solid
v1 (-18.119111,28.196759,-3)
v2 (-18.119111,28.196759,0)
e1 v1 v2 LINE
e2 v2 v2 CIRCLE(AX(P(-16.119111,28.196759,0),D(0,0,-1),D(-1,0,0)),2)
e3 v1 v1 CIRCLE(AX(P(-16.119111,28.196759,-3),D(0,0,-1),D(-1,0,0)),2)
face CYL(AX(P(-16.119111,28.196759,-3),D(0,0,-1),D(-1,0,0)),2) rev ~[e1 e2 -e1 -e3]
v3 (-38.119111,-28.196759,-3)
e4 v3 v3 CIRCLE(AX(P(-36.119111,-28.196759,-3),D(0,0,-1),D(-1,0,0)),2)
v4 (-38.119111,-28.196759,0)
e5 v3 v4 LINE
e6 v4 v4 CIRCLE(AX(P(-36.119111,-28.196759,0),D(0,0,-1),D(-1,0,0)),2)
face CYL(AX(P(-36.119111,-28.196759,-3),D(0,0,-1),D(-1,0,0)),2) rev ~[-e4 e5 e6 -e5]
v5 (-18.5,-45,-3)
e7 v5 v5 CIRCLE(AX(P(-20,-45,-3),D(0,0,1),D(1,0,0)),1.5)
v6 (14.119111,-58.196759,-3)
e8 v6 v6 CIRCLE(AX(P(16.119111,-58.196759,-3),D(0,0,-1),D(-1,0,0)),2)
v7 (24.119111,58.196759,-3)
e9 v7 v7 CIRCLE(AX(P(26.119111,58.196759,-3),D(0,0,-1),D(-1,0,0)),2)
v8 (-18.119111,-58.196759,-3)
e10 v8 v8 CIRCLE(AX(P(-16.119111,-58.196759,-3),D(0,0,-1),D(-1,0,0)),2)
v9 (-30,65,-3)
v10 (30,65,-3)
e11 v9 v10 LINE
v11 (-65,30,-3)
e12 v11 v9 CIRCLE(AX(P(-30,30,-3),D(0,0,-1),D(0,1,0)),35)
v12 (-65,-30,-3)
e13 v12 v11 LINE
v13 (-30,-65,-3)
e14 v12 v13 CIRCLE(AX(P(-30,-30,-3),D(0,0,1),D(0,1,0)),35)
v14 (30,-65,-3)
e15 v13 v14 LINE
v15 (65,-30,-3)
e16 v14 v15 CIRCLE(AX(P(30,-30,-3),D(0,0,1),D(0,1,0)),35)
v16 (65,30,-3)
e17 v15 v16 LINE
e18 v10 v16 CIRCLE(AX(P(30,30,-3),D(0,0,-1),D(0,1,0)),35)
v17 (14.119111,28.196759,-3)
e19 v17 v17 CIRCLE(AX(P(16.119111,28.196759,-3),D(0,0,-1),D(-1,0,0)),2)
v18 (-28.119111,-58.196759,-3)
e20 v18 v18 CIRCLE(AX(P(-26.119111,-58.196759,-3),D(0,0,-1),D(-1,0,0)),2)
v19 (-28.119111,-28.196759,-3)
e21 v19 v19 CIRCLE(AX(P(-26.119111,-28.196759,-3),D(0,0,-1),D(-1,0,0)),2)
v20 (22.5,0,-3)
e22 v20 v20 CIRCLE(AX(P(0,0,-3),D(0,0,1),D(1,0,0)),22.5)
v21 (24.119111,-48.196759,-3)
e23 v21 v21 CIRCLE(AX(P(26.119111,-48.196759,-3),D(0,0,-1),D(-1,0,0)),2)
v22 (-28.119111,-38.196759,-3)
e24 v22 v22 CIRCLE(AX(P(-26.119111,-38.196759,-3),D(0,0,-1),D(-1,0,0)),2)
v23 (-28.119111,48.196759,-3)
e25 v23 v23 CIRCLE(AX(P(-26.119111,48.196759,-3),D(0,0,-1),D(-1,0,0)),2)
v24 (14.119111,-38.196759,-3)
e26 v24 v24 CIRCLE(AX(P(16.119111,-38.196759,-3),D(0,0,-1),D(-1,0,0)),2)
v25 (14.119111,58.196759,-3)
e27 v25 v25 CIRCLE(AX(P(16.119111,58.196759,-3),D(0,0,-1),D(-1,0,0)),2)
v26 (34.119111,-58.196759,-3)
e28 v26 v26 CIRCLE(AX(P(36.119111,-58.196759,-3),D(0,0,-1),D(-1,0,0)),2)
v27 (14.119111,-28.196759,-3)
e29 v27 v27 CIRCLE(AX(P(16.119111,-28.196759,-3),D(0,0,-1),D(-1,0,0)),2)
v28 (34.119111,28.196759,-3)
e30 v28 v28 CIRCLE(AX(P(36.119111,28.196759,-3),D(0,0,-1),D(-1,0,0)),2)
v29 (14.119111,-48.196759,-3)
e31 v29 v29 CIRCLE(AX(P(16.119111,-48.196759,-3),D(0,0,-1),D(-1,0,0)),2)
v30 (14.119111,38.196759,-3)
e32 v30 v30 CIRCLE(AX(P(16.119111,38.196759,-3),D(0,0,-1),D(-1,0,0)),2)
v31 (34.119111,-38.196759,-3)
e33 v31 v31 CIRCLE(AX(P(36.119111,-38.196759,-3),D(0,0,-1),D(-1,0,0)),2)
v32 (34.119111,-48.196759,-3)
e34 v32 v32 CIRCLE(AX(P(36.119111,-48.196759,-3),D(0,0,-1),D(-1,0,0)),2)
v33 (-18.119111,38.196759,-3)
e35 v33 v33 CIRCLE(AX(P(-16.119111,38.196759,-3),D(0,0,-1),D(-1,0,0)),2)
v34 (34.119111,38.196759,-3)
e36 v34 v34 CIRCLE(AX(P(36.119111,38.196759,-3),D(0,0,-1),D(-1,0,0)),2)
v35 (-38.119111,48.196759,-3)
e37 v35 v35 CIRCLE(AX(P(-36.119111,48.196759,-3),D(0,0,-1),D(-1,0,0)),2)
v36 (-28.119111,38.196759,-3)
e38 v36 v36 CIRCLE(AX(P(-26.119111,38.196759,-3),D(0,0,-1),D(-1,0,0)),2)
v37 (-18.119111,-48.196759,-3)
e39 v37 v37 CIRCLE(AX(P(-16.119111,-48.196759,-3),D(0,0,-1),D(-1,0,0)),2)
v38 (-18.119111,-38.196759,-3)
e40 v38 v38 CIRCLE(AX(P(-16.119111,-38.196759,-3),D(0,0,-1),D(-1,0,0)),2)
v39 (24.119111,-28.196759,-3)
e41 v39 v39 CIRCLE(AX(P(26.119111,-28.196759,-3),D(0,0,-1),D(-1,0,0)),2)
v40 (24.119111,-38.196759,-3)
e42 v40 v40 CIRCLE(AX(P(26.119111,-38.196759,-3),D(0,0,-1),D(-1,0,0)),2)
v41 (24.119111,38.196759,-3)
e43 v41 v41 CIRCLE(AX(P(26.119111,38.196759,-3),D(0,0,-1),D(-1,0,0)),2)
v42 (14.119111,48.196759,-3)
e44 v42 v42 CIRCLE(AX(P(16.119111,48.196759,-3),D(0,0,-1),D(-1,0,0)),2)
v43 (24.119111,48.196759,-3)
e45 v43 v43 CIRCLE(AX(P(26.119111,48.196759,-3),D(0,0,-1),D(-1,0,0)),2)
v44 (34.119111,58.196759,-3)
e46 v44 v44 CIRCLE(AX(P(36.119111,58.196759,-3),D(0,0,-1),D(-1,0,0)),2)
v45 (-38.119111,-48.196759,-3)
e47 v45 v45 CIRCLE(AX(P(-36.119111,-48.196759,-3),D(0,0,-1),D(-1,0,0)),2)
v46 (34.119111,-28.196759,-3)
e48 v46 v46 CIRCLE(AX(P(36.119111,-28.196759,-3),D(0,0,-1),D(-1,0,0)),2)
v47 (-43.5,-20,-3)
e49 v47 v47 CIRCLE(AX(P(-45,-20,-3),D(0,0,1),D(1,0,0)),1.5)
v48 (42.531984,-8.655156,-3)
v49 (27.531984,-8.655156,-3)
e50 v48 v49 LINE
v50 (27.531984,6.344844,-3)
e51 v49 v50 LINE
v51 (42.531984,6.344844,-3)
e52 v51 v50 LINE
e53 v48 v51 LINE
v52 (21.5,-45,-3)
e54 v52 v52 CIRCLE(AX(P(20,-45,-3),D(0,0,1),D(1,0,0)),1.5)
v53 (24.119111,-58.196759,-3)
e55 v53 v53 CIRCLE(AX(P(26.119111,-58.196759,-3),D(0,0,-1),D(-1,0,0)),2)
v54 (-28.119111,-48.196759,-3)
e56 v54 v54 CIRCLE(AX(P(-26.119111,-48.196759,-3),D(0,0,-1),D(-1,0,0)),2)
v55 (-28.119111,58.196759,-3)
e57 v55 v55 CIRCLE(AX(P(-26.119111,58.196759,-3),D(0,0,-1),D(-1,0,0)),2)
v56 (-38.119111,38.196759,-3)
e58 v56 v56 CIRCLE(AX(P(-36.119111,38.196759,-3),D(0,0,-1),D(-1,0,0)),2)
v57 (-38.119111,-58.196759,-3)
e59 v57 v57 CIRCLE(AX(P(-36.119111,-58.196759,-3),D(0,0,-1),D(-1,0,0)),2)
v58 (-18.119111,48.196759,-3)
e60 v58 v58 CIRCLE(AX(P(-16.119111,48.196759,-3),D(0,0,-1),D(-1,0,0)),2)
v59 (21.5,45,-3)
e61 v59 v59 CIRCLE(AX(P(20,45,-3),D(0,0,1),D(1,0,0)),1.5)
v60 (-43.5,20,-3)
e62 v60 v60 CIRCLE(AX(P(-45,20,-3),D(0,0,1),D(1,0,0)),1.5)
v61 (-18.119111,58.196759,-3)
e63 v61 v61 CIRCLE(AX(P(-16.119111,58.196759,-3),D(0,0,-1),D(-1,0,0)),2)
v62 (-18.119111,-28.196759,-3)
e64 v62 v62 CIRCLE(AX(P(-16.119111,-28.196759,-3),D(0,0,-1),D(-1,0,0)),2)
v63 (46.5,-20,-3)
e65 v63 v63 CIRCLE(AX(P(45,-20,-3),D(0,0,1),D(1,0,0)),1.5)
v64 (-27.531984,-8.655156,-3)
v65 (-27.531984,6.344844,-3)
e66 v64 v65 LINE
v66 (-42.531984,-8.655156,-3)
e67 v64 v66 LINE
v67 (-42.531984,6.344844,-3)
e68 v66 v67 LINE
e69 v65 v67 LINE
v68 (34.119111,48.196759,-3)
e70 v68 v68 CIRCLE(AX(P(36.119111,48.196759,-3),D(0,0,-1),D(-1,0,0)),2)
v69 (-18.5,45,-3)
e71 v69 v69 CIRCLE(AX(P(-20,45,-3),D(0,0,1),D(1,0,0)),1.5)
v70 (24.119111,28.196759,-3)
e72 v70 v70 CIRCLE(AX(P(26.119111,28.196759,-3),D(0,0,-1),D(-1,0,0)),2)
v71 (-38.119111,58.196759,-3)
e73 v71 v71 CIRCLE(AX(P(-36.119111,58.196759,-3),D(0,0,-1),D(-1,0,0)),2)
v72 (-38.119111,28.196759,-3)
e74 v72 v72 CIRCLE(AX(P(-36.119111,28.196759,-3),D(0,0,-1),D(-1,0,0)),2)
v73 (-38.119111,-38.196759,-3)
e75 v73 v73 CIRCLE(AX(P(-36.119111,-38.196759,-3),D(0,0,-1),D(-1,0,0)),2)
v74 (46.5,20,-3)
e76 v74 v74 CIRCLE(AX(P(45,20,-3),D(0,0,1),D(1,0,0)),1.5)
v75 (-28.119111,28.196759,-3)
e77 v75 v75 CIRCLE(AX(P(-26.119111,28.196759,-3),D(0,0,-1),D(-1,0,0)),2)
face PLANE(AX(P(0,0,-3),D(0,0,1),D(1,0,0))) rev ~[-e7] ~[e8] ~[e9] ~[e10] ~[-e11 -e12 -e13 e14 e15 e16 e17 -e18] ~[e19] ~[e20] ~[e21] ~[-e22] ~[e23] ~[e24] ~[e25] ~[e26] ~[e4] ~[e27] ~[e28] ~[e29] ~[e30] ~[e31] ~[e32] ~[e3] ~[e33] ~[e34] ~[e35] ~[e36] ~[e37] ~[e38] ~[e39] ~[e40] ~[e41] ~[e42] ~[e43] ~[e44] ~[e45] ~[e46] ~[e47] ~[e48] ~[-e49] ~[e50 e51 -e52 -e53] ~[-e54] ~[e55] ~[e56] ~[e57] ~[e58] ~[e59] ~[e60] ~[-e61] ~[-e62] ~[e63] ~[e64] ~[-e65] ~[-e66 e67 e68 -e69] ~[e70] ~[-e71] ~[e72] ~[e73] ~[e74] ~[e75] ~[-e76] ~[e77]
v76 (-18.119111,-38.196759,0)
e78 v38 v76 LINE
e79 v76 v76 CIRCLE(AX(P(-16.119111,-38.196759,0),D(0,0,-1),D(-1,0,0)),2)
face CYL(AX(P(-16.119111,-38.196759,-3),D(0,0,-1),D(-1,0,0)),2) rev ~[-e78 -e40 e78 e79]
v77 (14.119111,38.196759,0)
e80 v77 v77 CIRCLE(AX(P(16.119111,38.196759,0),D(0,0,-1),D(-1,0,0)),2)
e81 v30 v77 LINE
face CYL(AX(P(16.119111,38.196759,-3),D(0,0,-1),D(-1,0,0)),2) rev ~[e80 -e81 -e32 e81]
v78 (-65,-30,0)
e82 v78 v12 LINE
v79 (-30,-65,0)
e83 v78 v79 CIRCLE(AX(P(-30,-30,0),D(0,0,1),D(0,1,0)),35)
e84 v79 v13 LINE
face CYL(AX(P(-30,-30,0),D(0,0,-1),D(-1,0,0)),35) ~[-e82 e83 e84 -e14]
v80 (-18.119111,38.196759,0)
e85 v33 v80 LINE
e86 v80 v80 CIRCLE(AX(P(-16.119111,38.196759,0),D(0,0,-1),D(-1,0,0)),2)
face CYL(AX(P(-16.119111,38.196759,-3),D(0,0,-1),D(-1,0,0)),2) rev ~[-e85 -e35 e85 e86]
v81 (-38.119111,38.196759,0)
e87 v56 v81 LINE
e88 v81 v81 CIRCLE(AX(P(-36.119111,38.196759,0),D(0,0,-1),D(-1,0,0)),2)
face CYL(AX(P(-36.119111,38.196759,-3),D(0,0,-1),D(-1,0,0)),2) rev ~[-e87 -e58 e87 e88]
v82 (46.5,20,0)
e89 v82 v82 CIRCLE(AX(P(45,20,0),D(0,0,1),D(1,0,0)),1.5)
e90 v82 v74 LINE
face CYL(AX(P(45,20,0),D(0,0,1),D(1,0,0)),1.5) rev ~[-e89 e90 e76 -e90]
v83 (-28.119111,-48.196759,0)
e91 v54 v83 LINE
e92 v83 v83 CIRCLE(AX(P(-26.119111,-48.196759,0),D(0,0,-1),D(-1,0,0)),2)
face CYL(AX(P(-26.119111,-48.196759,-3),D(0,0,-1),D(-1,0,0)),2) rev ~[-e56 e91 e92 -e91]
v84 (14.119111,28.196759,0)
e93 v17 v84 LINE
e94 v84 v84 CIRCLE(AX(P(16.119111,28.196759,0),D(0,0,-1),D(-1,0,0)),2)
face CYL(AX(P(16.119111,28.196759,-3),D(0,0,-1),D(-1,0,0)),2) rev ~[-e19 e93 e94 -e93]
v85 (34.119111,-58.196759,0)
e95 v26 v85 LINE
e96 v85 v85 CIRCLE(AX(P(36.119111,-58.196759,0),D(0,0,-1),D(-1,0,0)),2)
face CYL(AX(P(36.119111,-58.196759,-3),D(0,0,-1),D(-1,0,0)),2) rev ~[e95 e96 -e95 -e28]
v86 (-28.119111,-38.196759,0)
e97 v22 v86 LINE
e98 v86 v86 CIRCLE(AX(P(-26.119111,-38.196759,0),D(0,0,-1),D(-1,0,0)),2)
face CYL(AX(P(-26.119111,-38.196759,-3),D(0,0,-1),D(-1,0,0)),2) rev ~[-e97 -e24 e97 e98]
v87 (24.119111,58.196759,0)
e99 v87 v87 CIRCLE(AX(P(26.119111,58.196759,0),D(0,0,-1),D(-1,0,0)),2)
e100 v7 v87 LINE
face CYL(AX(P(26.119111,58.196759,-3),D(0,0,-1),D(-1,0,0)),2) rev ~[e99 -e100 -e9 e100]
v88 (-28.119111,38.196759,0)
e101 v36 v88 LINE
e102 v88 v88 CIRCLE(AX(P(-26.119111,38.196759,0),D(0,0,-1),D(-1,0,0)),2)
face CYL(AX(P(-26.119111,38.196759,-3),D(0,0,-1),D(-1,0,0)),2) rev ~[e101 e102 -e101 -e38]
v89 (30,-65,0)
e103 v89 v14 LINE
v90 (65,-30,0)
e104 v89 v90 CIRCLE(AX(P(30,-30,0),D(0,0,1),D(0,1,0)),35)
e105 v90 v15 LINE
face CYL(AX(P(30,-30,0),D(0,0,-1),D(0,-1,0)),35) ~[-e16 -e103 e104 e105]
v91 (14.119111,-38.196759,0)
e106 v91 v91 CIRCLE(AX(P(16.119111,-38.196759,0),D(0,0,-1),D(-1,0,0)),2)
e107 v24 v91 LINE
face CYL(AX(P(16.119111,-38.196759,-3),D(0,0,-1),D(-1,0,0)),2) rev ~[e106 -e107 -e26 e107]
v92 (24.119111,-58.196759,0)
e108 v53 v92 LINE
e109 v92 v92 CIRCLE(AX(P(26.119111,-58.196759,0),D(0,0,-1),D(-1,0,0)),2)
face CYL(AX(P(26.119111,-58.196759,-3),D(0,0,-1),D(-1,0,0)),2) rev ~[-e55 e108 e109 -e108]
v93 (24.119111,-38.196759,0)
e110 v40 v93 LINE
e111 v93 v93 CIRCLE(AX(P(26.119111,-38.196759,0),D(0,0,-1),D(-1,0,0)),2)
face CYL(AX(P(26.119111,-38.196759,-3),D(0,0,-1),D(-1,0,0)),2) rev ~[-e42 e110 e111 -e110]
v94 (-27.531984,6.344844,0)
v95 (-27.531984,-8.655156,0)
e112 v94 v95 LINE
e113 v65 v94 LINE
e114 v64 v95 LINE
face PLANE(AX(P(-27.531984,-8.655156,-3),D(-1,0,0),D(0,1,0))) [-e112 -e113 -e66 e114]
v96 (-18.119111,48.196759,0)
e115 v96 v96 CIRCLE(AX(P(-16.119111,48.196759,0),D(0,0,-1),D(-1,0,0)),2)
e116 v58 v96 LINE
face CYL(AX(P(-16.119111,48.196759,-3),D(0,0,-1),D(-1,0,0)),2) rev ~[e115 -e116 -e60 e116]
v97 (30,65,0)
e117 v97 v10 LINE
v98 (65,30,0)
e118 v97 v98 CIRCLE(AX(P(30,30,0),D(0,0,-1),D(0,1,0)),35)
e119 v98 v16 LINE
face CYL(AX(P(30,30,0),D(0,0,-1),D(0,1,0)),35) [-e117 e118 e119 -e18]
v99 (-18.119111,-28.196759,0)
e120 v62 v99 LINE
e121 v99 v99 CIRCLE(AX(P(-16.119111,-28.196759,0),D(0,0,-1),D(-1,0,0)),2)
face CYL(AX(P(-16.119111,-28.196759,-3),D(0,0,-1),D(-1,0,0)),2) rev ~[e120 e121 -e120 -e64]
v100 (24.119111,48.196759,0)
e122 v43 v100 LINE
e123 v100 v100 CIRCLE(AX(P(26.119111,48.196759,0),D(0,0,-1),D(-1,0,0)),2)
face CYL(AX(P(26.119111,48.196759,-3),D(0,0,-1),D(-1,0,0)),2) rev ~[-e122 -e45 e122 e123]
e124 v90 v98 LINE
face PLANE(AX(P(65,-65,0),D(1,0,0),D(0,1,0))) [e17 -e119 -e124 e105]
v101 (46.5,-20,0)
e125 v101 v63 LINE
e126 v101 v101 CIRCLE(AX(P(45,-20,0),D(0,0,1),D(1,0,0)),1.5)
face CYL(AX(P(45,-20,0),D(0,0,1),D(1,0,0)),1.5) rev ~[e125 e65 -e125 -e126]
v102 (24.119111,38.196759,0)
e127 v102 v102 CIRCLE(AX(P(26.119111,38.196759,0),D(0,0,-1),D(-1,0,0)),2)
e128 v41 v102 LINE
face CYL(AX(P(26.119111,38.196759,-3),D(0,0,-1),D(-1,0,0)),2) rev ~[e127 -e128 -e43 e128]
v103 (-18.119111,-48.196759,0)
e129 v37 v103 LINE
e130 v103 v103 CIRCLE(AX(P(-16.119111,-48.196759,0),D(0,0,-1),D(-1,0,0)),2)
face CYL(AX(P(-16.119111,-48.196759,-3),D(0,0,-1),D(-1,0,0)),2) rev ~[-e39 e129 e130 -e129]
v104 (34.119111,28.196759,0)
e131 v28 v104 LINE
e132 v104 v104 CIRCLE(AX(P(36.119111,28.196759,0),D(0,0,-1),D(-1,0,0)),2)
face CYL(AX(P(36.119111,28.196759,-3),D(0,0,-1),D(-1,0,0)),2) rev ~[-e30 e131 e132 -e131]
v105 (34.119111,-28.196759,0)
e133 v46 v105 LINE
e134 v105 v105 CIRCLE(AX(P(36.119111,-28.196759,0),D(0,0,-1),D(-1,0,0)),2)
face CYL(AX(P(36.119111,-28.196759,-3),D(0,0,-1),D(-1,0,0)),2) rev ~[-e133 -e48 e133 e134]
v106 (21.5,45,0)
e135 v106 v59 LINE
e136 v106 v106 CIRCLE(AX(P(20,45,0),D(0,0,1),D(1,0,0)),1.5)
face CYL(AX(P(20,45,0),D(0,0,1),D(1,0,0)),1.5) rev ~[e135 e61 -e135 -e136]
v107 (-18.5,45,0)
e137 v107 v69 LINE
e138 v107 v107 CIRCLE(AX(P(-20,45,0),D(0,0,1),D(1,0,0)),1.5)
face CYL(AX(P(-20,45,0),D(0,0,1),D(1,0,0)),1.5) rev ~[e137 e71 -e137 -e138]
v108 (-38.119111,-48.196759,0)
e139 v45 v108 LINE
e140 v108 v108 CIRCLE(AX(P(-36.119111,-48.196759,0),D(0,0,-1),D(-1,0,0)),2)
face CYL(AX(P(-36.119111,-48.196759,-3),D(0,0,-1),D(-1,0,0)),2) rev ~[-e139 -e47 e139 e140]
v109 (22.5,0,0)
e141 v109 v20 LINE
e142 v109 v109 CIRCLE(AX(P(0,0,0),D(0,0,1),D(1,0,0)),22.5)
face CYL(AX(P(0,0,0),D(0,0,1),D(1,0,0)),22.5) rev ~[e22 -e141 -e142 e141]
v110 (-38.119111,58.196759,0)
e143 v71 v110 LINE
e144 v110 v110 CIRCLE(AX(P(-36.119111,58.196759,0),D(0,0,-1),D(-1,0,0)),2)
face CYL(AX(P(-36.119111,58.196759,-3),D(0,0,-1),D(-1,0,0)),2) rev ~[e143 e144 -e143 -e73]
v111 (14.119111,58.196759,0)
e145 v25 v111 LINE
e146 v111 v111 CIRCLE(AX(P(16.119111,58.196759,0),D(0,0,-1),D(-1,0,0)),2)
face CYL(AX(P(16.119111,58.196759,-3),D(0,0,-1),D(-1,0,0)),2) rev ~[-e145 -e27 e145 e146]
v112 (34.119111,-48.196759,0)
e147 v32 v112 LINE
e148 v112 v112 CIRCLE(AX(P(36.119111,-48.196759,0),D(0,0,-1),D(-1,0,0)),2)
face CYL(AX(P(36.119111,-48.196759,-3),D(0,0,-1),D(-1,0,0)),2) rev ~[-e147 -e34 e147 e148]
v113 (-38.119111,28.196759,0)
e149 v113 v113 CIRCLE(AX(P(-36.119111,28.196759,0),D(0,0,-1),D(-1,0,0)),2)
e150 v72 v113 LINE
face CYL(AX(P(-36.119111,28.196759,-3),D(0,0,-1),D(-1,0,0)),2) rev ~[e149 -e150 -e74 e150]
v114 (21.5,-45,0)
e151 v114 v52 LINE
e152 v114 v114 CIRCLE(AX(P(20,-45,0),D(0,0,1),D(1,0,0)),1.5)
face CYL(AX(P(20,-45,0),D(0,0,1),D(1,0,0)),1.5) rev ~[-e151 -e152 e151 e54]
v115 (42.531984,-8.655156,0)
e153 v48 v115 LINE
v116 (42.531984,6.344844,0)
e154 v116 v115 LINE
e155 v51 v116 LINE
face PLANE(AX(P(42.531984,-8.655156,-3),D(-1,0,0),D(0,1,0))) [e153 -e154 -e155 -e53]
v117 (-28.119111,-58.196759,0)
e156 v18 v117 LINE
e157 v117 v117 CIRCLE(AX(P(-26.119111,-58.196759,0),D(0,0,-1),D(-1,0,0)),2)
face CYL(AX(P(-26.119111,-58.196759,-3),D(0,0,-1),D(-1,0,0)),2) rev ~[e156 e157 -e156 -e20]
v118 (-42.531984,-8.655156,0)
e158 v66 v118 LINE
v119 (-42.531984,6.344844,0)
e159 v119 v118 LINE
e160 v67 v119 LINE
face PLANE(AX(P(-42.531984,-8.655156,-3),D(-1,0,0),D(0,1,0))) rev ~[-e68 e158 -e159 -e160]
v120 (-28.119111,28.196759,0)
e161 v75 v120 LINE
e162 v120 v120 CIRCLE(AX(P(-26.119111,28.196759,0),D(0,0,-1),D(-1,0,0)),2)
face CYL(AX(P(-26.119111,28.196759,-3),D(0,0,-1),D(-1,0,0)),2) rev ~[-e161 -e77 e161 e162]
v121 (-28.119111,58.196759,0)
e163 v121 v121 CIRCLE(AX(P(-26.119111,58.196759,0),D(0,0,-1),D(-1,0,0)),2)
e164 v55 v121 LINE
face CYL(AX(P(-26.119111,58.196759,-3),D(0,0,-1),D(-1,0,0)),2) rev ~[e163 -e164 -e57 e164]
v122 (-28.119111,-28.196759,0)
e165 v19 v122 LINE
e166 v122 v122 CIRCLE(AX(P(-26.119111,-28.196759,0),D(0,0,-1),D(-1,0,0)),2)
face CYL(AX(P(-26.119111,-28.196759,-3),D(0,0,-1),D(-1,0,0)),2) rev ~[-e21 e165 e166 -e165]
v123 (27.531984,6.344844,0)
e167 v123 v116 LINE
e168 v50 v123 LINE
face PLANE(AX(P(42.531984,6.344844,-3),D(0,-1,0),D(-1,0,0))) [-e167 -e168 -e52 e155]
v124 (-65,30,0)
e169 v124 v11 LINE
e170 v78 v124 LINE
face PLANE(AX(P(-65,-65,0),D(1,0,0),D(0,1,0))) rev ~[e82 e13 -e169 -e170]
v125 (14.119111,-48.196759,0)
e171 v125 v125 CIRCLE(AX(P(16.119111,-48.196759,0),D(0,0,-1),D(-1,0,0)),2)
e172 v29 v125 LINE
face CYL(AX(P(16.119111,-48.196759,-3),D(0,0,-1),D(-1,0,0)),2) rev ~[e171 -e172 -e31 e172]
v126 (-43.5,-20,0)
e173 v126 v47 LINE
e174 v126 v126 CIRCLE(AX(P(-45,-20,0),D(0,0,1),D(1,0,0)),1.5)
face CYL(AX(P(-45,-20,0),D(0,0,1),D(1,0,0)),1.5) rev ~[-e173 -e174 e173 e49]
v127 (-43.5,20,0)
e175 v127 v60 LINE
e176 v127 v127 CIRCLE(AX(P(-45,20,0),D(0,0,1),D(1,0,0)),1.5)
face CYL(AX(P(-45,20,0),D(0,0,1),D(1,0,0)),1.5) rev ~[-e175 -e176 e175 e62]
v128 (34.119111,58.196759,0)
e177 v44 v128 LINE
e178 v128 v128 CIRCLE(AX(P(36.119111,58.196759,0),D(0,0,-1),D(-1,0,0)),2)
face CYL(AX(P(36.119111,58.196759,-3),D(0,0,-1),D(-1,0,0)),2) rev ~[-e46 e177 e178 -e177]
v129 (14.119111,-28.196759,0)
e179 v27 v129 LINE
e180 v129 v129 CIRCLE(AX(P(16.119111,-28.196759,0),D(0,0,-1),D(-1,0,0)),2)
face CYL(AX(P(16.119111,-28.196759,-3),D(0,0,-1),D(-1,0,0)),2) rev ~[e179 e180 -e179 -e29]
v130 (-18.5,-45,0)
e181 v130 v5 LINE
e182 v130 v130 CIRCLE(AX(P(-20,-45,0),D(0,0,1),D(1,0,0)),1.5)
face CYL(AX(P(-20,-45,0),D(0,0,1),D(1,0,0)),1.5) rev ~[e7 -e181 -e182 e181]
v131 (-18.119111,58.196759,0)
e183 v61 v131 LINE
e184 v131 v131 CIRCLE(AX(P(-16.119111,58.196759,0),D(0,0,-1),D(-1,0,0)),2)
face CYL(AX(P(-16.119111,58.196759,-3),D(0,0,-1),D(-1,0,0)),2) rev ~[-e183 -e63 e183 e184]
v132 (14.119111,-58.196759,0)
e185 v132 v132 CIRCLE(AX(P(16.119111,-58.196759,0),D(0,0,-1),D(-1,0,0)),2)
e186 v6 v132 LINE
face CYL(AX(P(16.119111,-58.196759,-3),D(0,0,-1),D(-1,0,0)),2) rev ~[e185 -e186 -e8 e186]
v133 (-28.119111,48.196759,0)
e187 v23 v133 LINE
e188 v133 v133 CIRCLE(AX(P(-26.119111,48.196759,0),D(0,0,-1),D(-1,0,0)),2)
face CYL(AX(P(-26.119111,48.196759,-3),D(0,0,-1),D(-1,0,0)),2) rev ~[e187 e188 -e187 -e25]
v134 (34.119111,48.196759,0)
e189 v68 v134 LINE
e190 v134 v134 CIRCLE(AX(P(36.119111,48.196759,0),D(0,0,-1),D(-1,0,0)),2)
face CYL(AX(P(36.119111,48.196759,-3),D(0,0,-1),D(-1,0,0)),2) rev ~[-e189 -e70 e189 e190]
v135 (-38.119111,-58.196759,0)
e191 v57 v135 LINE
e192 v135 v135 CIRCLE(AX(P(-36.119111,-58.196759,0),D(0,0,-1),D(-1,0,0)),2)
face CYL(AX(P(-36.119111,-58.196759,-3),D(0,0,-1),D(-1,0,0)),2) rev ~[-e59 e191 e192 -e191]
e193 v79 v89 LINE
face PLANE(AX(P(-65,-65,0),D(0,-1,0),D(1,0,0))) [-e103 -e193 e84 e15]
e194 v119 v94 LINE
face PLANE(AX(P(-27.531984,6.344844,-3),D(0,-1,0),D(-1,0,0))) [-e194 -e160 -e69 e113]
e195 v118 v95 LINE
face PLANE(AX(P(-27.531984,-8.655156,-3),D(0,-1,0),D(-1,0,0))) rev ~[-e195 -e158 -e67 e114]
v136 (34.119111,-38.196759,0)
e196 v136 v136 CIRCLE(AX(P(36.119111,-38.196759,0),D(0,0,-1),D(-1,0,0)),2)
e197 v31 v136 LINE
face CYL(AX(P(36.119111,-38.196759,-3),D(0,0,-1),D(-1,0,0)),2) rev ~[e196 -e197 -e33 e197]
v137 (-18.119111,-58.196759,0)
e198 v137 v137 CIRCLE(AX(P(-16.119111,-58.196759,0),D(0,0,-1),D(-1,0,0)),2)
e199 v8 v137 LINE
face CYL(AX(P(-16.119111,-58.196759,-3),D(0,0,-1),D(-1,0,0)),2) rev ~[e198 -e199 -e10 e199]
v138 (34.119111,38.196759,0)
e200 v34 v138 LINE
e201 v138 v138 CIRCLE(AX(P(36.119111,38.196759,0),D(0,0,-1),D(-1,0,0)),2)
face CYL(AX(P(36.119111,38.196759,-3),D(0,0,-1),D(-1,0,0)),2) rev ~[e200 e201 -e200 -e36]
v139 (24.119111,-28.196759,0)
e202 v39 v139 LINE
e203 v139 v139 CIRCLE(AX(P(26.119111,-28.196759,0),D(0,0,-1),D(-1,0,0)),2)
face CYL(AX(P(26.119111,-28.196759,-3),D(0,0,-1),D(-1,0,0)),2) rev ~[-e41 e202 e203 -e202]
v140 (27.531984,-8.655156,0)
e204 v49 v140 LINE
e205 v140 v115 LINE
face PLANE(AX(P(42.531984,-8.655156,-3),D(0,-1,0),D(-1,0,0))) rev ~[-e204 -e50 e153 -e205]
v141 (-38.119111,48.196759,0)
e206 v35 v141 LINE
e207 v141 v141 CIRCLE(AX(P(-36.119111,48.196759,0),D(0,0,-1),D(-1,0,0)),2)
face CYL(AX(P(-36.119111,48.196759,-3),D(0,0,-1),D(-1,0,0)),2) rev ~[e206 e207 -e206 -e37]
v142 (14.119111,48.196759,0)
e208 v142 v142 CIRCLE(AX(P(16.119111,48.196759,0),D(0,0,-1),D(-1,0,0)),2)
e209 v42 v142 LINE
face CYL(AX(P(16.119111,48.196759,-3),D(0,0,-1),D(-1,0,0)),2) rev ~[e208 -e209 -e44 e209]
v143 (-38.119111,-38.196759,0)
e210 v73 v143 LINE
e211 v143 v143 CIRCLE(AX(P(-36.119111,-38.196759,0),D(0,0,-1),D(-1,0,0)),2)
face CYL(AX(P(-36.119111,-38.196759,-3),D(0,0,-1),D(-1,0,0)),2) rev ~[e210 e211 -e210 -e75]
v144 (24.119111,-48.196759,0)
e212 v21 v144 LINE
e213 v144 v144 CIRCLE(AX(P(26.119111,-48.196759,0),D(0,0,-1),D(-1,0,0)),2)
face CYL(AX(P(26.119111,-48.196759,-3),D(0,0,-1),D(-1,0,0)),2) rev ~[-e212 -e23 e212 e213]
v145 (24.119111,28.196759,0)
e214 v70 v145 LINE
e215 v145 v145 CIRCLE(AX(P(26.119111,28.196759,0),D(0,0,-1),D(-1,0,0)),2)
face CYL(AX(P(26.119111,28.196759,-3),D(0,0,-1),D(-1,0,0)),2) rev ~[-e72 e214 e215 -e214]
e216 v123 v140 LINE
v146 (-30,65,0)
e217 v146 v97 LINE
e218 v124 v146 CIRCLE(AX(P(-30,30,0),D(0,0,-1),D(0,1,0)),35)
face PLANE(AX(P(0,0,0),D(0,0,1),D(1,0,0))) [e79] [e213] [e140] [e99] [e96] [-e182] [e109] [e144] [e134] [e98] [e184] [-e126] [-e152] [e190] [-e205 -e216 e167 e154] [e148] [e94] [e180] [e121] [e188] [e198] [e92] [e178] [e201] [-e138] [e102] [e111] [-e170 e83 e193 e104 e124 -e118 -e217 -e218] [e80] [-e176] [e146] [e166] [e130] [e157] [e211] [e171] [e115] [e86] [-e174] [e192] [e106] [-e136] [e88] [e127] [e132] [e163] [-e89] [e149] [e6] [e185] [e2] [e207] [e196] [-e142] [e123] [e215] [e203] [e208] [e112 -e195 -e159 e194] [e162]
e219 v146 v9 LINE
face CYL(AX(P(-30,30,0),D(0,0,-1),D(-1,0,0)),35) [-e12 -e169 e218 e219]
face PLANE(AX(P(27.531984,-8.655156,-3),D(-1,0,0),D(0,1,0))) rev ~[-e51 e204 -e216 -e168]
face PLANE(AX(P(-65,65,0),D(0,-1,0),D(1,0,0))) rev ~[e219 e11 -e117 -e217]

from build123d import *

# Parameters (mm, degrees)
SKETCH_1_W          = 130
SKETCH_1_H          = 130
SKETCH_1_R          = 22.5
EXTRUDE_1_DEPTH     = 3
FILLET_1_R          = 35
SKETCH_5_R          = 2
SKETCH_5_W          = 15
SKETCH_5_H          = 15
CUT_EXTRUDE_2_DEPTH = 13
SKETCH_6_R          = 1.5
CUT_EXTRUDE_3_DEPTH = 92.972822073
SKETCH_7_R          = 1.5
CUT_EXTRUDE_4_DEPTH = 92.972822073


with BuildPart() as part:
    # 草图1 → 凸台-拉伸1 (new body)
    with BuildSketch(Plane.XY):
        Rectangle(SKETCH_1_W, SKETCH_1_H)
        Circle(SKETCH_1_R, mode=Mode.SUBTRACT)
    extrude(amount=-EXTRUDE_1_DEPTH)

    # 圆角1
    fillet_1_edges = [part.edges().sort_by_distance(p)[0] for p in [
        (65, -65, -1.5),
        (-65, -65, -1.5),
        (-65, 65, -1.5),
        (65, 65, -1.5),
    ]]
    fillet(fillet_1_edges, radius=FILLET_1_R)

    # 草图5 → 切除-拉伸2 (cut)
    with BuildSketch(Plane(origin=(0, 0, -3), x_dir=(-1, 0, 0), z_dir=(0, 0, -1))):
        with Locations((36.119111303, 58.196758832)):
            Circle(SKETCH_5_R)
        with Locations((36.119111303, 48.196758832)):
            Circle(SKETCH_5_R)
        with Locations((36.119111303, 38.196758832)):
            Circle(SKETCH_5_R)
        with Locations((-36.119111303, -58.196758832)):
            Circle(SKETCH_5_R)
        with Locations((16.119111303, 48.196758832)):
            Circle(SKETCH_5_R)
        with Locations((16.119111303, 38.196758832)):
            Circle(SKETCH_5_R)
        with Locations((16.119111303, 28.196758832)):
            Circle(SKETCH_5_R)
        with Locations((26.119111303, 58.196758832)):
            Circle(SKETCH_5_R)
        with Locations((16.119111303, -48.196758832)):
            Circle(SKETCH_5_R)
        with Locations((26.119111303, -28.196758832)):
            Circle(SKETCH_5_R)
        with Locations((36.119111303, 28.196758832)):
            Circle(SKETCH_5_R)
        with Locations((26.119111303, 48.196758832)):
            Circle(SKETCH_5_R)
        with Locations((26.119111303, 38.196758832)):
            Circle(SKETCH_5_R)
        with Locations((26.119111303, 28.196758832)):
            Circle(SKETCH_5_R)
        with Locations((16.119111303, 58.196758832)):
            Circle(SKETCH_5_R)
        with Locations((16.119111303, -58.196758832)):
            Circle(SKETCH_5_R)
        with Locations((26.119111303, -58.196758832)):
            Circle(SKETCH_5_R)
        with Locations((16.119111303, -28.196758832)):
            Circle(SKETCH_5_R)
        with Locations((16.119111303, -38.196758832)):
            Circle(SKETCH_5_R)
        with Locations((36.119111303, -38.196758832)):
            Circle(SKETCH_5_R)
        with Locations((36.119111303, -48.196758832)):
            Circle(SKETCH_5_R)
        with Locations((36.119111303, -58.196758832)):
            Circle(SKETCH_5_R)
        with Locations((-36.119111303, -48.196758832)):
            Circle(SKETCH_5_R)
        with Locations((-36.119111303, -38.196758832)):
            Circle(SKETCH_5_R)
        with Locations((-16.119111303, -38.196758832)):
            Circle(SKETCH_5_R)
        with Locations((-16.119111303, -28.196758832)):
            Circle(SKETCH_5_R)
        with Locations((-26.119111303, -58.196758832)):
            Circle(SKETCH_5_R)
        with Locations((26.119111303, -38.196758832)):
            Circle(SKETCH_5_R)
        with Locations((26.119111303, -48.196758832)):
            Circle(SKETCH_5_R)
        with Locations((36.119111303, -28.196758832)):
            Circle(SKETCH_5_R)
        with Locations((-36.119111303, -28.196758832)):
            Circle(SKETCH_5_R)
        with Locations((-26.119111303, -48.196758832)):
            Circle(SKETCH_5_R)
        with Locations((-26.119111303, -38.196758832)):
            Circle(SKETCH_5_R)
        with Locations((-26.119111303, -28.196758832)):
            Circle(SKETCH_5_R)
        with Locations((-16.119111303, -48.196758832)):
            Circle(SKETCH_5_R)
        with Locations((-16.119111303, 28.196758832)):
            Circle(SKETCH_5_R)
        with Locations((-16.119111303, 38.196758832)):
            Circle(SKETCH_5_R)
        with Locations((-16.119111303, 48.196758832)):
            Circle(SKETCH_5_R)
        with Locations((-26.119111303, 28.196758832)):
            Circle(SKETCH_5_R)
        with Locations((-26.119111303, 38.196758832)):
            Circle(SKETCH_5_R)
        with Locations((-36.119111303, 38.196758832)):
            Circle(SKETCH_5_R)
        with Locations((-36.119111303, 48.196758832)):
            Circle(SKETCH_5_R)
        with Locations((-36.119111303, 58.196758832)):
            Circle(SKETCH_5_R)
        with Locations((-16.119111303, -58.196758832)):
            Circle(SKETCH_5_R)
        with Locations((-16.119111303, 58.196758832)):
            Circle(SKETCH_5_R)
        with Locations((-26.119111303, 58.196758832)):
            Circle(SKETCH_5_R)
        with Locations((-26.119111303, 48.196758832)):
            Circle(SKETCH_5_R)
        with Locations((-36.119111303, 28.196758832)):
            Circle(SKETCH_5_R)
        with Locations((35.031984266, -1.155156202)):
            Rectangle(SKETCH_5_W, SKETCH_5_H)
        with Locations((-35.031984266, -1.155156202)):
            Rectangle(SKETCH_5_W, SKETCH_5_H)
    extrude(amount=-CUT_EXTRUDE_2_DEPTH, mode=Mode.SUBTRACT)

    # 草图6 → 切除-拉伸3 (cut, through all)
    with BuildSketch(Plane.XY):
        with Locations((-45, 20)):
            Circle(SKETCH_6_R)
        with Locations((45, 20)):
            Circle(SKETCH_6_R)
        with Locations((45, -20)):
            Circle(SKETCH_6_R)
        with Locations((-45, -20)):
            Circle(SKETCH_6_R)
    extrude(amount=-CUT_EXTRUDE_3_DEPTH, mode=Mode.SUBTRACT)

    # 草图7 → 切除-拉伸4 (cut, through all)
    with BuildSketch(Plane.XY):
        with Locations((-20, 45)):
            Circle(SKETCH_7_R)
        with Locations((20, 45)):
            Circle(SKETCH_7_R)
        with Locations((20, -45)):
            Circle(SKETCH_7_R)
        with Locations((-20, -45)):
            Circle(SKETCH_7_R)
    extrude(amount=-CUT_EXTRUDE_4_DEPTH, mode=Mode.SUBTRACT)


solid = part.part
